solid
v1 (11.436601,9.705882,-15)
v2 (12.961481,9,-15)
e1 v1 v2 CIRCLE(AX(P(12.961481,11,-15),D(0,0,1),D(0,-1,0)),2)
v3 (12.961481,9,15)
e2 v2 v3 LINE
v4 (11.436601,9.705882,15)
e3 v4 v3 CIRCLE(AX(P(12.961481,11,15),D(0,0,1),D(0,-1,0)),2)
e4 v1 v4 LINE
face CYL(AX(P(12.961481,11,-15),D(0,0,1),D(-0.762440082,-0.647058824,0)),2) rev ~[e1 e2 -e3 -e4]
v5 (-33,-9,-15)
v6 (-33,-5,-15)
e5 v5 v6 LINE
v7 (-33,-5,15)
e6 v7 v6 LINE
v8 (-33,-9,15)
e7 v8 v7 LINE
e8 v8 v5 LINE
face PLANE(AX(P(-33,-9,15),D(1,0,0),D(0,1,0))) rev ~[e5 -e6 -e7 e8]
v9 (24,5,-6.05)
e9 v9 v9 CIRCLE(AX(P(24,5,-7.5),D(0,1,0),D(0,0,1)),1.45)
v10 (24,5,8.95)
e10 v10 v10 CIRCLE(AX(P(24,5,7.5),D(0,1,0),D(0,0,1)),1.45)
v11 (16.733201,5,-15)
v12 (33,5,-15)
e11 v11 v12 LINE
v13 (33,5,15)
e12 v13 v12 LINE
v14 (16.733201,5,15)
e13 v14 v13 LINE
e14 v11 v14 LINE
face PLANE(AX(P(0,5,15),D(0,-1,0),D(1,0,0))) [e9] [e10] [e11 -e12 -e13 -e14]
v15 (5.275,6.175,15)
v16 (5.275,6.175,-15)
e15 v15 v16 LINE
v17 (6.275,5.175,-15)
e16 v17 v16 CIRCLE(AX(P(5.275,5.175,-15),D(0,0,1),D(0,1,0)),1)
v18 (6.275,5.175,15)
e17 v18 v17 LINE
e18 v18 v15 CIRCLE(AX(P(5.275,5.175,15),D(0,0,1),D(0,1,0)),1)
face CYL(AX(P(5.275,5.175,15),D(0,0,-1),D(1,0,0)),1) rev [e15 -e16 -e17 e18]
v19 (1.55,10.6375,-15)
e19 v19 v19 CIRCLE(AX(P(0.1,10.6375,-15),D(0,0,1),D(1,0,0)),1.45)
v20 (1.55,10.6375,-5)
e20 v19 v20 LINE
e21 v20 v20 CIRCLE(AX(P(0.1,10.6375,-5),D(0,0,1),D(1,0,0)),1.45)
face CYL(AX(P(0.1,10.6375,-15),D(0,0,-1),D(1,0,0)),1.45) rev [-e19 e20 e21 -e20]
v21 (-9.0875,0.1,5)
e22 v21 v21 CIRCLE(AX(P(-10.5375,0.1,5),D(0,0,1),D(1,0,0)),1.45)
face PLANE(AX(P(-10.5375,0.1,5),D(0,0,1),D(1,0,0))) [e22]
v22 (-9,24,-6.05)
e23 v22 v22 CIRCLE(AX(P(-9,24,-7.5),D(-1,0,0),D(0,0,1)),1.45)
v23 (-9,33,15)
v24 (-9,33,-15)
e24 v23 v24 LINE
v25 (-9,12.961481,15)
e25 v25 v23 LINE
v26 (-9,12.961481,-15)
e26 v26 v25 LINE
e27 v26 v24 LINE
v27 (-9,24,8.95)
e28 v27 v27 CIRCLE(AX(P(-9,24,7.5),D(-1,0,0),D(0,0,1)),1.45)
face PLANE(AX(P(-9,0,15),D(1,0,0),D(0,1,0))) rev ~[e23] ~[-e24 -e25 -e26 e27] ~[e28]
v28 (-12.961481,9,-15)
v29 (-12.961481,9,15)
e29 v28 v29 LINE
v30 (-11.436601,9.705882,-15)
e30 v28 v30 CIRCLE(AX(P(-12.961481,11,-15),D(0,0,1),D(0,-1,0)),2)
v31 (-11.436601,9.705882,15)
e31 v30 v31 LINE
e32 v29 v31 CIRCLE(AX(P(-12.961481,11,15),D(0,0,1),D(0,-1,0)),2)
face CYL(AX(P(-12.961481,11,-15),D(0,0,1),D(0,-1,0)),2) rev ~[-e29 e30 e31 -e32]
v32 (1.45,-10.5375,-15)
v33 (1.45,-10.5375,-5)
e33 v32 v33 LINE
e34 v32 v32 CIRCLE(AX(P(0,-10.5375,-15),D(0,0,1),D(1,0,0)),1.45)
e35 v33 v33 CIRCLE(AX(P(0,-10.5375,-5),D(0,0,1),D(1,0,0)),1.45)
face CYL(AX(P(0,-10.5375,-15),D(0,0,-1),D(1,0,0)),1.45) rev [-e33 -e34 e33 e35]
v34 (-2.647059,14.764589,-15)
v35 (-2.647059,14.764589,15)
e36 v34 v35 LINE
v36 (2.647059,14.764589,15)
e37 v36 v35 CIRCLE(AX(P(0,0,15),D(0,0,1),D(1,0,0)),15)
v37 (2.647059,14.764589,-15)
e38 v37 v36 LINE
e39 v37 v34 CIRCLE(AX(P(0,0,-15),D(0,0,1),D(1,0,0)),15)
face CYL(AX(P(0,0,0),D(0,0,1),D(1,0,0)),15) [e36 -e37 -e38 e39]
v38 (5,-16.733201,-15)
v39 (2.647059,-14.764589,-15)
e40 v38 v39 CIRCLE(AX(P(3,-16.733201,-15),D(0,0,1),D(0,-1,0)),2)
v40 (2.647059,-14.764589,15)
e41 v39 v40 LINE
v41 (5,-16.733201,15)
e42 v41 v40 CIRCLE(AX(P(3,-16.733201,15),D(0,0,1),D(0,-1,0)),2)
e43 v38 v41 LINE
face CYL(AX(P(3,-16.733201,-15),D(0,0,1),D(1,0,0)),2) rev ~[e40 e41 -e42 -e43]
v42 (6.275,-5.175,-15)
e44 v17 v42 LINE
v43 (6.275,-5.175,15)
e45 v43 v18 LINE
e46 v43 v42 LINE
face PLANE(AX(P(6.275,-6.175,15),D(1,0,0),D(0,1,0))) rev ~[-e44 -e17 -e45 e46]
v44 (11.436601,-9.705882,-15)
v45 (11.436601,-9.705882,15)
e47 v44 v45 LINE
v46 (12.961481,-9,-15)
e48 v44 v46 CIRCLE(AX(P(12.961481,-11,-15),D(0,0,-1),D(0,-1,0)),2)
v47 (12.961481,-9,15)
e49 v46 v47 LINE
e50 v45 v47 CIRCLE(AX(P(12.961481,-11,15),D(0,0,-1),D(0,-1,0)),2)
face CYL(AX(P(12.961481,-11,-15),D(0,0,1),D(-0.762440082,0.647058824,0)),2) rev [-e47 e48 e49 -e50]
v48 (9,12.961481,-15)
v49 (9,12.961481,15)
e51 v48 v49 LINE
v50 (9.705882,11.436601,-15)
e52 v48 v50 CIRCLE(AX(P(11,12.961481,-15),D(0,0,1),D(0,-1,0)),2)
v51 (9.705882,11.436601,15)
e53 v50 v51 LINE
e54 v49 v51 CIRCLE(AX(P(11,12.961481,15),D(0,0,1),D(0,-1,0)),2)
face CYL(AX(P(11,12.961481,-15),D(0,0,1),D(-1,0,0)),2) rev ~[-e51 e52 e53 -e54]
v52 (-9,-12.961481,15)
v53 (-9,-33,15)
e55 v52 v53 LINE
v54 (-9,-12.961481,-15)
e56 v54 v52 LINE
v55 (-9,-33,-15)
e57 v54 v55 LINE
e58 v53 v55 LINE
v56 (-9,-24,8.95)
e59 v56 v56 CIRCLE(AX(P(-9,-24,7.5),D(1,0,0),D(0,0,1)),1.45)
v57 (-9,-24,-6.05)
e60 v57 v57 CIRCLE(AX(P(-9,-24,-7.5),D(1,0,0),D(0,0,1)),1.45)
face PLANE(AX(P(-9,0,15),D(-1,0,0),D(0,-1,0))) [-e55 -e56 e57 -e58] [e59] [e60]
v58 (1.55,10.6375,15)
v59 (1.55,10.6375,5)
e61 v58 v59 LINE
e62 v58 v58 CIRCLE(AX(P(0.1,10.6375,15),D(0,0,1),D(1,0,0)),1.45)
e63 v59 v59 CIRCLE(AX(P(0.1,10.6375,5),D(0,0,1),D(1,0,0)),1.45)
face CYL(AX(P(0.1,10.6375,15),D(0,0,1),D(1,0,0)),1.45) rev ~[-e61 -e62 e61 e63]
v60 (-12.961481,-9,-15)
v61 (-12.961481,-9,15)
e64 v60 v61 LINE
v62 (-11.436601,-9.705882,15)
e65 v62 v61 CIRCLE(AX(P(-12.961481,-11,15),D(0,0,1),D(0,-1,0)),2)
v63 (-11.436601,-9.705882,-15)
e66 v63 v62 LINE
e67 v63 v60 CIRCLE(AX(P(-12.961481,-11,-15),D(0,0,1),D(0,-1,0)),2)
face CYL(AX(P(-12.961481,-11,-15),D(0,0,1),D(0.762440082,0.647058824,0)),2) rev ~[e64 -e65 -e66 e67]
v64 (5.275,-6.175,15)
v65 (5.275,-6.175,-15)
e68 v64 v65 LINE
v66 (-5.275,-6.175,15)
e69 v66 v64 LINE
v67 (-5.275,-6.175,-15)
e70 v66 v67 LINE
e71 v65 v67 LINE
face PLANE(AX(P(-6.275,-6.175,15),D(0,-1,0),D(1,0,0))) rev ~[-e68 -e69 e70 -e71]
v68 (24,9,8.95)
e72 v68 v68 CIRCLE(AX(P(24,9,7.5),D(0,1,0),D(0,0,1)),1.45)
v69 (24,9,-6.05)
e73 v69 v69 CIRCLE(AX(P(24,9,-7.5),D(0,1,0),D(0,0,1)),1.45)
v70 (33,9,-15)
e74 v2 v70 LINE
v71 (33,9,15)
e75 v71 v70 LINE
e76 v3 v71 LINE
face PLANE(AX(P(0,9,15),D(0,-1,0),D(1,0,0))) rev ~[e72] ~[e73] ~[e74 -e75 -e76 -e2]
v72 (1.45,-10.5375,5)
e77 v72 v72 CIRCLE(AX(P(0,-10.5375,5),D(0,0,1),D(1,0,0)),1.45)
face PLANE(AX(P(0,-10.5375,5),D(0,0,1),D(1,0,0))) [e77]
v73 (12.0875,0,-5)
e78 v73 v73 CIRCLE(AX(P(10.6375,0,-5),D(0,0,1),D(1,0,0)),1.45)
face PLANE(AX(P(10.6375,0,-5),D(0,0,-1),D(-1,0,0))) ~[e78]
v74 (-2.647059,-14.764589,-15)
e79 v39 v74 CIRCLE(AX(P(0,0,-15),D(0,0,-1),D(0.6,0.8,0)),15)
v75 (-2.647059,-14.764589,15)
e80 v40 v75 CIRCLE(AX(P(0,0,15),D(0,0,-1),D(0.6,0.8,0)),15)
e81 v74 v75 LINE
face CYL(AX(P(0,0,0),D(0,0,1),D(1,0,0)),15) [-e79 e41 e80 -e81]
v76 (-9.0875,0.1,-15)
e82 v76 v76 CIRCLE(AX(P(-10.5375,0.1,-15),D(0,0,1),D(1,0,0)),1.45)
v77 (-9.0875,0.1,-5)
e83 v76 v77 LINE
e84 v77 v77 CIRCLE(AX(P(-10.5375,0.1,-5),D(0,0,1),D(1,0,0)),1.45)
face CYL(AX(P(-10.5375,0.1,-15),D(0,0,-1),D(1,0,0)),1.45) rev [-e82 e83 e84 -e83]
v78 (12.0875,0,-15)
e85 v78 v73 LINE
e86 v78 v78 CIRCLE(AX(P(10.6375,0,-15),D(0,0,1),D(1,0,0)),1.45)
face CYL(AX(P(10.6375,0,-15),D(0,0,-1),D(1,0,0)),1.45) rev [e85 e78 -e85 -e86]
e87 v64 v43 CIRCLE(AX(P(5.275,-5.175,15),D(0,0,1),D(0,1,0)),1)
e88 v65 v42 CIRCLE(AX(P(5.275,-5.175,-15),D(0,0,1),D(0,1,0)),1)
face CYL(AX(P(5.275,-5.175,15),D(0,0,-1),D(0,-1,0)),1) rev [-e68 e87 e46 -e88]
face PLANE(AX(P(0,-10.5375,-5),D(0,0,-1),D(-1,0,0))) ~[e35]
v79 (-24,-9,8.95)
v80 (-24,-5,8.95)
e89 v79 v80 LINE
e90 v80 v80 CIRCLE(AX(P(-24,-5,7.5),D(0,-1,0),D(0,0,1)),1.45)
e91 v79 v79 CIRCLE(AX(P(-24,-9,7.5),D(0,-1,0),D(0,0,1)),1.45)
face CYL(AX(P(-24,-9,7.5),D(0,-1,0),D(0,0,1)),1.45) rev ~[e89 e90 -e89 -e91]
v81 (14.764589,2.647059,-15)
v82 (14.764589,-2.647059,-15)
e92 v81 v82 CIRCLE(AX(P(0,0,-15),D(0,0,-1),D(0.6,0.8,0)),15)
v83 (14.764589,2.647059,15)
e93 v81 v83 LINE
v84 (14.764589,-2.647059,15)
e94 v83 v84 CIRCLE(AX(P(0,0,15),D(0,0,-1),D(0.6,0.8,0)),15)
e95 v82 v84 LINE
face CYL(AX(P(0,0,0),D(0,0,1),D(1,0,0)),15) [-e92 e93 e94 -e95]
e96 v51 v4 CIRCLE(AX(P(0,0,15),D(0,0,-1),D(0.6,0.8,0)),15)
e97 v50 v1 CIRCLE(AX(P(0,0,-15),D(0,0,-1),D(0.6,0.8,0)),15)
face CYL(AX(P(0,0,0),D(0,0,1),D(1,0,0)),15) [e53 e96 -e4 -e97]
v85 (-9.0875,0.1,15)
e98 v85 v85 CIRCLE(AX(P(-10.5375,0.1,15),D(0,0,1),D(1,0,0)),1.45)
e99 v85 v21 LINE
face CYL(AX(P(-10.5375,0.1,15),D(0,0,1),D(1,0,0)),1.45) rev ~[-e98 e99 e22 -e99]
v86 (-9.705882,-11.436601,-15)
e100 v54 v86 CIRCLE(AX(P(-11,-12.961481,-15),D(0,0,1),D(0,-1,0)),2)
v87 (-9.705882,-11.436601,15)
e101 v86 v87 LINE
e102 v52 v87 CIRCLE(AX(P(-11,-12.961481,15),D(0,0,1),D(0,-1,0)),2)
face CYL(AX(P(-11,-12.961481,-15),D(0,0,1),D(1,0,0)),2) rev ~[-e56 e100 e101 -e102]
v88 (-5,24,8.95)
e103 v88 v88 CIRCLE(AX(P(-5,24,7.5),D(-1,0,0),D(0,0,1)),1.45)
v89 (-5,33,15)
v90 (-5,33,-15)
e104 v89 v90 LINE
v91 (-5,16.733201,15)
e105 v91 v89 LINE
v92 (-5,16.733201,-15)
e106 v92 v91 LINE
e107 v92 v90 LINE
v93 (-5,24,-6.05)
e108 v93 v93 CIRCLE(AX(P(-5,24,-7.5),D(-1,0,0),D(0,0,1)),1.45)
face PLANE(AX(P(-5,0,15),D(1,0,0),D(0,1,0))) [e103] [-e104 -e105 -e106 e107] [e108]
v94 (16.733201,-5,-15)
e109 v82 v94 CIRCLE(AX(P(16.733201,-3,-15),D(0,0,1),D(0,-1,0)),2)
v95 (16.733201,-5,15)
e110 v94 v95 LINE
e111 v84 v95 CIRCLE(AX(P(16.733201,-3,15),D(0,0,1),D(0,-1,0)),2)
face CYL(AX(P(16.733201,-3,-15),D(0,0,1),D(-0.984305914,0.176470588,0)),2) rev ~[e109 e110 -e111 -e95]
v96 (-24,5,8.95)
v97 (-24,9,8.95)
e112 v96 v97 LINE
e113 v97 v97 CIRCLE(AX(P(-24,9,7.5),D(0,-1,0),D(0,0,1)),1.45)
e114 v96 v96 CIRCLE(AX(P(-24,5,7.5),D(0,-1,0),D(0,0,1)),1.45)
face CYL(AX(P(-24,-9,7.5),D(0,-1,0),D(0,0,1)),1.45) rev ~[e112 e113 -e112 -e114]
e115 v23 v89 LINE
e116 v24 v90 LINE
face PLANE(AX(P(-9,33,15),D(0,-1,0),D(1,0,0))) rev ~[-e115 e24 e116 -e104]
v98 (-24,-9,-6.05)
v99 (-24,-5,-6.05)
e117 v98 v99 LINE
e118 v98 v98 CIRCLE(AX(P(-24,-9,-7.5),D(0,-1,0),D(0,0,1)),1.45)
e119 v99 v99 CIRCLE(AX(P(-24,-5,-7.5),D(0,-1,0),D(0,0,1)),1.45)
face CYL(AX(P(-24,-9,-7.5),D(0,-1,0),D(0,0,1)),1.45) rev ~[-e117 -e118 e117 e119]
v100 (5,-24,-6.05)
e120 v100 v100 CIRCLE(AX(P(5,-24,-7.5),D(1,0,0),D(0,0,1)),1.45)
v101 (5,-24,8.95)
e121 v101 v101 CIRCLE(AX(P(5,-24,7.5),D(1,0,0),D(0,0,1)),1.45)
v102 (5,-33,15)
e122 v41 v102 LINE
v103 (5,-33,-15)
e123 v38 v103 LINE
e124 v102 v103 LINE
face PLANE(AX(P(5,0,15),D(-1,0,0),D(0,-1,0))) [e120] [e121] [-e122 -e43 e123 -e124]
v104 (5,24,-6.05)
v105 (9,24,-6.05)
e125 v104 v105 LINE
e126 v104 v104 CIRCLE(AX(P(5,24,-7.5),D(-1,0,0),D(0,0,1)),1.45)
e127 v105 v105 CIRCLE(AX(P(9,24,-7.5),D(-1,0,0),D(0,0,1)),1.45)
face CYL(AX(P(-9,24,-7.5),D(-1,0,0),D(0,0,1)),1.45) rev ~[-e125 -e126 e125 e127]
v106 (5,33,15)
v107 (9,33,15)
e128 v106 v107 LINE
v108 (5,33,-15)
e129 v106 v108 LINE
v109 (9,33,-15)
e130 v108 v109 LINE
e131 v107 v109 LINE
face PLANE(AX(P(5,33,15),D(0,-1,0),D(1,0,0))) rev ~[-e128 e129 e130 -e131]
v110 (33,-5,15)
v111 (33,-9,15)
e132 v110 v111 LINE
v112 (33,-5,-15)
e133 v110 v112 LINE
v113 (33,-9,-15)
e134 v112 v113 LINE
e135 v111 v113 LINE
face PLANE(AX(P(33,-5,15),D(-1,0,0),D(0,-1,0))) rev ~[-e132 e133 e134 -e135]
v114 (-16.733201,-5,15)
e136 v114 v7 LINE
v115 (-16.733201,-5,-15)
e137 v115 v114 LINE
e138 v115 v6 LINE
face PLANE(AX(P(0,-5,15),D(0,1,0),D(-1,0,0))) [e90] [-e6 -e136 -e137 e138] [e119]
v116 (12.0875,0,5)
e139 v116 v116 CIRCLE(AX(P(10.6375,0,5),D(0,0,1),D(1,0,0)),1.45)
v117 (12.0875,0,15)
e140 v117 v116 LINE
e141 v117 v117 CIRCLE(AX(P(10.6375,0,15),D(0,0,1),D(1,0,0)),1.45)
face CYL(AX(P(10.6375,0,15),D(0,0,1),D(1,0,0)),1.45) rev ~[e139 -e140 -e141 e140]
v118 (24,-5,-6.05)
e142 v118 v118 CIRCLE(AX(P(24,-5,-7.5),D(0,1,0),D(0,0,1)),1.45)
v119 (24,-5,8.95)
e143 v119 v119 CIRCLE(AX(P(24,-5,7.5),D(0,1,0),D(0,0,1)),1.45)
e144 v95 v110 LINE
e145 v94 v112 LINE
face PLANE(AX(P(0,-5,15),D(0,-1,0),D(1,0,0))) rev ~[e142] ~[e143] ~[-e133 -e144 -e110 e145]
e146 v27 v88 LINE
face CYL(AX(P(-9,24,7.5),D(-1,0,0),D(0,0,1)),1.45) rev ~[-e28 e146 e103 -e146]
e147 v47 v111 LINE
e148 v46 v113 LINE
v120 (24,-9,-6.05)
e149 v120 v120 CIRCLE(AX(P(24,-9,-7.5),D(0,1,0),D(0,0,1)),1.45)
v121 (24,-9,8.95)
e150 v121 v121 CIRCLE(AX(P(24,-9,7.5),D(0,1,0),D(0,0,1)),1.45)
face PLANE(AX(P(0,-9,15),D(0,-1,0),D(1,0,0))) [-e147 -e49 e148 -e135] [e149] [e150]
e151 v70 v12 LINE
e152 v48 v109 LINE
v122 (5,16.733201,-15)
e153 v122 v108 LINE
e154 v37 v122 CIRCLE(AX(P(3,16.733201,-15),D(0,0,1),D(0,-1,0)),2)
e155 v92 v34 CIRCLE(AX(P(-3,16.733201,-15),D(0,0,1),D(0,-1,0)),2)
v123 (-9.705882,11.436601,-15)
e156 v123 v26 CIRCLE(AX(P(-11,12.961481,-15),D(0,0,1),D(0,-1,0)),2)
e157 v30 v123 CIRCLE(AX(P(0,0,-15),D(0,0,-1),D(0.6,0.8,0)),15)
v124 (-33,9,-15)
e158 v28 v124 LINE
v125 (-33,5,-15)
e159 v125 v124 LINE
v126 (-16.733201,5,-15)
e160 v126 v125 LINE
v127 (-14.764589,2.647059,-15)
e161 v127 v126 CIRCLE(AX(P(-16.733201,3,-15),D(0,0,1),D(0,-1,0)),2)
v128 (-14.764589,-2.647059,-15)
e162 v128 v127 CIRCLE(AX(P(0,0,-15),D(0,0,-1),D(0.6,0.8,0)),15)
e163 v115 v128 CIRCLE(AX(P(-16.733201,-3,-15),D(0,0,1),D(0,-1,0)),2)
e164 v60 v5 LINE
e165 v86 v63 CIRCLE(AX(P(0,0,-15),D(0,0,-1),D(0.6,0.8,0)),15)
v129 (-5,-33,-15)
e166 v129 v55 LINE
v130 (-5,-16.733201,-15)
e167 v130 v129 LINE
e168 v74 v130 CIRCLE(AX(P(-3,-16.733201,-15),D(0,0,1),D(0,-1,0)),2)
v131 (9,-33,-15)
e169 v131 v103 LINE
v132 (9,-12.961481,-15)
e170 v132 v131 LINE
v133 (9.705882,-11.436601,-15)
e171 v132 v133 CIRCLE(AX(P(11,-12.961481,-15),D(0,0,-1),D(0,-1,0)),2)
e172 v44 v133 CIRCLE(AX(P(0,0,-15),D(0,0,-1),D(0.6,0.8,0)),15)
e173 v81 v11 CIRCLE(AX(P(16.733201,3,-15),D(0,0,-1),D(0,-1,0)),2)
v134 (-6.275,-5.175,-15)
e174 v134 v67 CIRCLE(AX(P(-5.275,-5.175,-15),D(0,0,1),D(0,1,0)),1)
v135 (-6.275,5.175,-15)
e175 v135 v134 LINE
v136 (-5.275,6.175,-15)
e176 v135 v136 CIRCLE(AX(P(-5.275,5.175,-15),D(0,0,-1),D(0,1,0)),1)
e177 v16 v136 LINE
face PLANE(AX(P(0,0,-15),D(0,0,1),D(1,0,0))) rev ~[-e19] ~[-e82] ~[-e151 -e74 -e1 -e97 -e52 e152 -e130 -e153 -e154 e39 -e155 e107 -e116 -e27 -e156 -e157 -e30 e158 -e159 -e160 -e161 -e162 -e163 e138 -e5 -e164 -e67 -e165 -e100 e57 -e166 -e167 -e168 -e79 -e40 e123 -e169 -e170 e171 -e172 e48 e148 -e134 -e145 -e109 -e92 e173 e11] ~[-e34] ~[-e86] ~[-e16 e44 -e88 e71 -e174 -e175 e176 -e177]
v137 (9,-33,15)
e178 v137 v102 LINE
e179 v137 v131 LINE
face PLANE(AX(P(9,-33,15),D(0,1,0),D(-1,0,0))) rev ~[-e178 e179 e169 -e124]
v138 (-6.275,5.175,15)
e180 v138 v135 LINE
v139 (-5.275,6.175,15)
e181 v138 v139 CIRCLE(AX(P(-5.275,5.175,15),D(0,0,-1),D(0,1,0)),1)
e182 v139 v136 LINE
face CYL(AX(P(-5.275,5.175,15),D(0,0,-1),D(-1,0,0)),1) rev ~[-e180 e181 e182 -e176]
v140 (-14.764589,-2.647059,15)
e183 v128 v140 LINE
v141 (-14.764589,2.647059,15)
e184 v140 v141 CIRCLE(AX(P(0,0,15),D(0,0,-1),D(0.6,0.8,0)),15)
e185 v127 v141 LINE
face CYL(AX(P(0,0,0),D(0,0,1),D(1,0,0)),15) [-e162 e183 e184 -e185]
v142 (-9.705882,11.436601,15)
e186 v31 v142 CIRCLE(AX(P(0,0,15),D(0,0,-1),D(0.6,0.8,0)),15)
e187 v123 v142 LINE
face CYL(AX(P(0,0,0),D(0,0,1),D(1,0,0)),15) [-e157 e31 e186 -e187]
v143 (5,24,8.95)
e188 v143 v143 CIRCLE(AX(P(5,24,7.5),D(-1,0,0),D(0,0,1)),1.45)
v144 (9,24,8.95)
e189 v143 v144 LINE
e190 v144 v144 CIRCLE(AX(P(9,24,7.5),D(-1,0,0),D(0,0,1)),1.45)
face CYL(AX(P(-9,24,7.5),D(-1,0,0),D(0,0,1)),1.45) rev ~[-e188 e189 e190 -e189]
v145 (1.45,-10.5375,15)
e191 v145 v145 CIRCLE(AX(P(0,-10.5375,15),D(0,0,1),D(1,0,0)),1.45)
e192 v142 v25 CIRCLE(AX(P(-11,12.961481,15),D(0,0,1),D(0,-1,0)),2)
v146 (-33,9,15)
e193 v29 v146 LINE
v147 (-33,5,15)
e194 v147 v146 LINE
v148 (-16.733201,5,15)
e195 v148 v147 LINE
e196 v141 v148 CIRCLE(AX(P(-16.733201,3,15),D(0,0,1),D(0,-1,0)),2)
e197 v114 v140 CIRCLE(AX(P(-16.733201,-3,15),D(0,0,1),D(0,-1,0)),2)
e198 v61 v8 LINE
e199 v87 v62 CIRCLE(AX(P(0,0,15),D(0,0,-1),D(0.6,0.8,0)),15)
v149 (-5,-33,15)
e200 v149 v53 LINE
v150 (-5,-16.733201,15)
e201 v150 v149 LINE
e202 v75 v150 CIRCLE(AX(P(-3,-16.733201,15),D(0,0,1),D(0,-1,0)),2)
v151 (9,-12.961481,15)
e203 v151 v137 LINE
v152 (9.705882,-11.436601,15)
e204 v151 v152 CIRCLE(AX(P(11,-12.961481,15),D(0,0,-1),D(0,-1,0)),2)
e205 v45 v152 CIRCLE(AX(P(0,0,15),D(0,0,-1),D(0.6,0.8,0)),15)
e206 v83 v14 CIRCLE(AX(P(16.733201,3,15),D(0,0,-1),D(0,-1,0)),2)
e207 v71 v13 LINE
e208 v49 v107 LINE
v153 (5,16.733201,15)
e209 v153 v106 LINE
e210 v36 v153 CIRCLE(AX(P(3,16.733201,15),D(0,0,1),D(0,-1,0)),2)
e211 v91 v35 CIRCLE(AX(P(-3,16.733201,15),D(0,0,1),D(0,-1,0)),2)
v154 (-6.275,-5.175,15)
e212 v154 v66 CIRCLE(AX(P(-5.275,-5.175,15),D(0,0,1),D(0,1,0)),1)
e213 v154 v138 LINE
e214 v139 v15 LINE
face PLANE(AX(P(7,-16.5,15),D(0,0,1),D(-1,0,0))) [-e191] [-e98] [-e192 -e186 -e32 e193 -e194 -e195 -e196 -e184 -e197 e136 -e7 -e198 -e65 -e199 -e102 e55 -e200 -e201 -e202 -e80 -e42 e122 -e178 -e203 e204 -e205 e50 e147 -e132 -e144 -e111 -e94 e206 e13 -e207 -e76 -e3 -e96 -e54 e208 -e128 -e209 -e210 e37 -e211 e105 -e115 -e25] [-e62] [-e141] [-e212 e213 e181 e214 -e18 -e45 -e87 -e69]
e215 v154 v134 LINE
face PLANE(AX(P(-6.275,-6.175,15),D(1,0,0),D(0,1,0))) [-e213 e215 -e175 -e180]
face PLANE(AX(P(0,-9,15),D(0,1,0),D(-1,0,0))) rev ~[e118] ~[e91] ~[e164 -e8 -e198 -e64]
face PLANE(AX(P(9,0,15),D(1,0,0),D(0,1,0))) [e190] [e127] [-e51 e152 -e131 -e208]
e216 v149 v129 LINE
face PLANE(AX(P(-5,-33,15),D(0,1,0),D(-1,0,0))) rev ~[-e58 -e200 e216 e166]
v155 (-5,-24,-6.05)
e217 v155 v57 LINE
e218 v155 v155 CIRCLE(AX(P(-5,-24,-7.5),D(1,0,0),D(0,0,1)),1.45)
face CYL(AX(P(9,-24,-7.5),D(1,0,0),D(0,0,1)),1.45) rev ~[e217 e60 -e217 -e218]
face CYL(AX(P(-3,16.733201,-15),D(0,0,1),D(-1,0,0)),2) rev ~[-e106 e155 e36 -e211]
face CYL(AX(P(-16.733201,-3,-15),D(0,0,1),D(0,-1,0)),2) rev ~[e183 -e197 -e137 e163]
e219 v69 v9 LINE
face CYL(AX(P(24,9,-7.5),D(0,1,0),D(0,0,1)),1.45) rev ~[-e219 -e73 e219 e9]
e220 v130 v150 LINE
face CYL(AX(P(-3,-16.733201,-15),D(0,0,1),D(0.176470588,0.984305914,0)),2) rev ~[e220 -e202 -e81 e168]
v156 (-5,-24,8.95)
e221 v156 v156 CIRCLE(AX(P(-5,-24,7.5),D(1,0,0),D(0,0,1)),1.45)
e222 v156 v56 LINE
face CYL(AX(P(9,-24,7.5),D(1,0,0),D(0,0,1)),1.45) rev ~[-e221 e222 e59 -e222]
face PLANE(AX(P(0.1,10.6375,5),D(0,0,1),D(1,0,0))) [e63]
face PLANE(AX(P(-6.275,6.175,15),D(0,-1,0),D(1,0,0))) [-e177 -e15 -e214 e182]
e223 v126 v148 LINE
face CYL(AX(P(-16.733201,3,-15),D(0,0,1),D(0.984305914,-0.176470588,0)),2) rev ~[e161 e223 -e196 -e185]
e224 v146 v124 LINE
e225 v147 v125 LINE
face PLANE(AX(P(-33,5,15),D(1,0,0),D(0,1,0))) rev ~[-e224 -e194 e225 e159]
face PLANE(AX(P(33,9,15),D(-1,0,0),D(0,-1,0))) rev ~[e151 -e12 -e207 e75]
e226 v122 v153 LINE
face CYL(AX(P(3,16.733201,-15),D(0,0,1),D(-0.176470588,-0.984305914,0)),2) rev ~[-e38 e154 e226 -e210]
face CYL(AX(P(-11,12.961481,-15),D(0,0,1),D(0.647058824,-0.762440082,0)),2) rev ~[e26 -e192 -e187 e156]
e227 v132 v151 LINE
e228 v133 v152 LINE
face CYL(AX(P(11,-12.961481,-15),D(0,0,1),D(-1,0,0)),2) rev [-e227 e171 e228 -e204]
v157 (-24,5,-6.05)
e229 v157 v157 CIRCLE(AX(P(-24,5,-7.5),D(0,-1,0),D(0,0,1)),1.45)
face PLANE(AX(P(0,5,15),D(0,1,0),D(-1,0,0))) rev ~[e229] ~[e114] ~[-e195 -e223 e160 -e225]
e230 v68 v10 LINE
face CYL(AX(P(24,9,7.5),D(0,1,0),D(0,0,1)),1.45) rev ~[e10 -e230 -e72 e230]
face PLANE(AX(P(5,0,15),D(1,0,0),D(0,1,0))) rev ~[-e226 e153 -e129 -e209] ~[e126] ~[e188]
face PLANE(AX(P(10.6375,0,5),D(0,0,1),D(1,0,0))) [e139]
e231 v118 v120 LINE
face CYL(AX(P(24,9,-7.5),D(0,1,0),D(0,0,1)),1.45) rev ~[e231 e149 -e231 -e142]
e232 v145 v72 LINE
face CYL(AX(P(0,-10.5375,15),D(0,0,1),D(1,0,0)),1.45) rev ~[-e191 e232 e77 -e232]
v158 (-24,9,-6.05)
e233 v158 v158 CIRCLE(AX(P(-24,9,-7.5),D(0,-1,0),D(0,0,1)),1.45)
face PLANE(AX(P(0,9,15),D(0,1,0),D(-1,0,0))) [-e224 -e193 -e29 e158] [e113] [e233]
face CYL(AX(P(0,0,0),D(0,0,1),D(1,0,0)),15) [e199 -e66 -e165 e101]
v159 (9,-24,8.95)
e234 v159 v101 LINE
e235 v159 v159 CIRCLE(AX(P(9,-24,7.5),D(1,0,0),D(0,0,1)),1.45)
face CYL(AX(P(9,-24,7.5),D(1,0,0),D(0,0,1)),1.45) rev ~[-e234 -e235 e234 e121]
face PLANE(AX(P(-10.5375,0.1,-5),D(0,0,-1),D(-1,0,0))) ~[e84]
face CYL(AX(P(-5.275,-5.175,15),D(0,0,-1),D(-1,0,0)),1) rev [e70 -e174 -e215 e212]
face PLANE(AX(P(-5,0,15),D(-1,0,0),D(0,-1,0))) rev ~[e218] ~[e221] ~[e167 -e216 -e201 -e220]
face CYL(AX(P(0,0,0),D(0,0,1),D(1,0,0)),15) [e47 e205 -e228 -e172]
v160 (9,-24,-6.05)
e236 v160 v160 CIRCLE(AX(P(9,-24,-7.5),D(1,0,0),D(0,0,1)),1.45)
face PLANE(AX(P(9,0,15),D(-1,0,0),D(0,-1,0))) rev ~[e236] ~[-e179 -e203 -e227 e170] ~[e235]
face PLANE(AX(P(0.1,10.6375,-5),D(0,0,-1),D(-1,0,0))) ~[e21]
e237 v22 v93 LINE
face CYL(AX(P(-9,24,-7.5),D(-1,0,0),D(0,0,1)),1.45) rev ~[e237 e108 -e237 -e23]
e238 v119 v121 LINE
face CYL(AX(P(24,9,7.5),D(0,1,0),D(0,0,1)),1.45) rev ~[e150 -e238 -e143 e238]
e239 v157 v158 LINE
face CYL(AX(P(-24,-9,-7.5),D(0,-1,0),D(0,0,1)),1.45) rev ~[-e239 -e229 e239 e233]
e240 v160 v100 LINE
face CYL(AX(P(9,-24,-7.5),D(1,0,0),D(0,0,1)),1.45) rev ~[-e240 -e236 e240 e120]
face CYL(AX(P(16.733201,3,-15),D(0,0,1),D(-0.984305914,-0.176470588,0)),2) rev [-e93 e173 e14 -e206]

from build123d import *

# Parameters (mm, degrees)
SKETCH1_R                = 15
BOSS_EXTRUDE1_DEPTH      = 15
SKETCH4_W                = 4
SKETCH4_H                = 33
BOSS_EXTRUDE3_DEPTH      = 30
FILLET2_R                = 2
CIRPATTERN7_COUNT        = 4
FILLET2_OF_CIRPATTERN7_R = 2
SKETCH7_R                = 1.45
CUT_EXTRUDE2_DEPTH       = 27
CIRPATTERN9_COUNT        = 4
CUT_EXTRUDE3_REACH       = 57.48
SKETCH8_W                = 12.55
SKETCH8_H                = 12.35
SKETCH9_R                = 1.45
CUT_EXTRUDE4_DEPTH       = 10
FILLET1_R                = 1


with BuildPart() as part:
    # Sketch1 → Boss-Extrude1 (new, symmetric)
    with BuildSketch(Plane.XY):
        Circle(SKETCH1_R)
    extrude(amount=BOSS_EXTRUDE1_DEPTH, both=True)

    # Sketch4 → Boss-Extrude3 (add)
    with BuildSketch(Plane.XY.offset(15)):
        with Locations((-7, 16.5)):
            Rectangle(SKETCH4_W, SKETCH4_H)
        with Locations((7, 16.5)):
            Rectangle(SKETCH4_W, SKETCH4_H)
    boss_extrude3 = extrude(amount=-BOSS_EXTRUDE3_DEPTH)

    # Fillet2
    fillet2_edges = [part.edges().sort_by_distance(p)[0] for p in [
        (-9, 12, 0),
        (-5, 14.142135624, 0),
        (9, 12, 0),
        (5, 14.142135624, 0),
    ]]
    fillet(fillet2_edges, radius=FILLET2_R)

    # CirPattern7: Boss-Extrude3 ×4 about axis
    cirpattern7_axis = Axis((0, 0, 0), (0, 0, 1))
    for i in range(1, CIRPATTERN7_COUNT):
        add(boss_extrude3.rotate(cirpattern7_axis, i * 360 / CIRPATTERN7_COUNT))

    # Fillet2 of CirPattern7
    fillet2_of_cirpattern7_edges = [part.edges().sort_by_distance(p)[0] for p in [
        (-12, -9, 0),
        (-14.142135624, -5, 0),
        (-12, 9, 0),
        (-14.142135624, 5, 0),
        (9, -12, 0),
        (5, -14.142135624, 0),
        (-9, -12, 0),
        (-5, -14.142135624, 0),
        (12, 9, 0),
        (14.142135624, 5, 0),
        (12, -9, 0),
        (14.142135624, -5, 0),
    ]]
    fillet(fillet2_of_cirpattern7_edges, radius=FILLET2_OF_CIRPATTERN7_R)

    # Sketch7 → Cut-Extrude2 (cut)
    with BuildSketch(Plane.ZY.offset(9)):
        with Locations((-7.5, 24)):
            Circle(SKETCH7_R)
        with Locations((7.5, 24)):
            Circle(SKETCH7_R)
        with Locations((22.5, 24)):
            Circle(SKETCH7_R)
        with Locations((37.5, 24)):
            Circle(SKETCH7_R)
        with Locations((52.5, 24)):
            Circle(SKETCH7_R)
    cut_extrude2 = extrude(amount=-CUT_EXTRUDE2_DEPTH, mode=Mode.SUBTRACT)

    # CirPattern9: Cut-Extrude2 ×4 about axis
    cirpattern9_axis = Axis((0, 0, 0), (0, 0, 1))
    for i in range(1, CIRPATTERN9_COUNT):
        add(cut_extrude2.rotate(cirpattern9_axis, i * 360 / CIRPATTERN9_COUNT), mode=Mode.SUBTRACT)

    # Sketch8 → Cut-Extrude3 (cut, up to next)
    with BuildSketch(Plane.XY.offset(15), mode=Mode.PRIVATE) as cut_extrude3_sk1:
        Rectangle(SKETCH8_W, SKETCH8_H)
    cut_extrude3_tool1 = extrude(cut_extrude3_sk1.sketch, amount=-CUT_EXTRUDE3_REACH, mode=Mode.PRIVATE) & part.part
    add(cut_extrude3_tool1.solids().sort_by_distance((0, 0, 15))[0], mode=Mode.SUBTRACT)

    # Sketch9 → Cut-Extrude4 (cut)
    with BuildSketch(Plane.XY.offset(15)):
        with Locations((10.6375, 0)):
            Circle(SKETCH9_R)
        with Locations((0, -10.5375)):
            Circle(SKETCH9_R)
        with Locations((-10.5375, 0.1)):
            Circle(SKETCH9_R)
        with Locations((0.1, 10.6375)):
            Circle(SKETCH9_R)
    cut_extrude4 = extrude(amount=-CUT_EXTRUDE4_DEPTH, mode=Mode.SUBTRACT)

    # Fillet1
    fillet1_edges = [part.edges().sort_by_distance(p)[0] for p in [
        (6.275, 6.175, 0),
        (6.275, -6.175, 0),
        (-6.275, -6.175, 0),
        (-6.275, 6.175, 0),
    ]]
    fillet(fillet1_edges, radius=FILLET1_R)

    # Mirror1: Cut-Extrude4 across plane
    add(cut_extrude4.mirror(Plane.XY), mode=Mode.SUBTRACT)


solid = part.part
